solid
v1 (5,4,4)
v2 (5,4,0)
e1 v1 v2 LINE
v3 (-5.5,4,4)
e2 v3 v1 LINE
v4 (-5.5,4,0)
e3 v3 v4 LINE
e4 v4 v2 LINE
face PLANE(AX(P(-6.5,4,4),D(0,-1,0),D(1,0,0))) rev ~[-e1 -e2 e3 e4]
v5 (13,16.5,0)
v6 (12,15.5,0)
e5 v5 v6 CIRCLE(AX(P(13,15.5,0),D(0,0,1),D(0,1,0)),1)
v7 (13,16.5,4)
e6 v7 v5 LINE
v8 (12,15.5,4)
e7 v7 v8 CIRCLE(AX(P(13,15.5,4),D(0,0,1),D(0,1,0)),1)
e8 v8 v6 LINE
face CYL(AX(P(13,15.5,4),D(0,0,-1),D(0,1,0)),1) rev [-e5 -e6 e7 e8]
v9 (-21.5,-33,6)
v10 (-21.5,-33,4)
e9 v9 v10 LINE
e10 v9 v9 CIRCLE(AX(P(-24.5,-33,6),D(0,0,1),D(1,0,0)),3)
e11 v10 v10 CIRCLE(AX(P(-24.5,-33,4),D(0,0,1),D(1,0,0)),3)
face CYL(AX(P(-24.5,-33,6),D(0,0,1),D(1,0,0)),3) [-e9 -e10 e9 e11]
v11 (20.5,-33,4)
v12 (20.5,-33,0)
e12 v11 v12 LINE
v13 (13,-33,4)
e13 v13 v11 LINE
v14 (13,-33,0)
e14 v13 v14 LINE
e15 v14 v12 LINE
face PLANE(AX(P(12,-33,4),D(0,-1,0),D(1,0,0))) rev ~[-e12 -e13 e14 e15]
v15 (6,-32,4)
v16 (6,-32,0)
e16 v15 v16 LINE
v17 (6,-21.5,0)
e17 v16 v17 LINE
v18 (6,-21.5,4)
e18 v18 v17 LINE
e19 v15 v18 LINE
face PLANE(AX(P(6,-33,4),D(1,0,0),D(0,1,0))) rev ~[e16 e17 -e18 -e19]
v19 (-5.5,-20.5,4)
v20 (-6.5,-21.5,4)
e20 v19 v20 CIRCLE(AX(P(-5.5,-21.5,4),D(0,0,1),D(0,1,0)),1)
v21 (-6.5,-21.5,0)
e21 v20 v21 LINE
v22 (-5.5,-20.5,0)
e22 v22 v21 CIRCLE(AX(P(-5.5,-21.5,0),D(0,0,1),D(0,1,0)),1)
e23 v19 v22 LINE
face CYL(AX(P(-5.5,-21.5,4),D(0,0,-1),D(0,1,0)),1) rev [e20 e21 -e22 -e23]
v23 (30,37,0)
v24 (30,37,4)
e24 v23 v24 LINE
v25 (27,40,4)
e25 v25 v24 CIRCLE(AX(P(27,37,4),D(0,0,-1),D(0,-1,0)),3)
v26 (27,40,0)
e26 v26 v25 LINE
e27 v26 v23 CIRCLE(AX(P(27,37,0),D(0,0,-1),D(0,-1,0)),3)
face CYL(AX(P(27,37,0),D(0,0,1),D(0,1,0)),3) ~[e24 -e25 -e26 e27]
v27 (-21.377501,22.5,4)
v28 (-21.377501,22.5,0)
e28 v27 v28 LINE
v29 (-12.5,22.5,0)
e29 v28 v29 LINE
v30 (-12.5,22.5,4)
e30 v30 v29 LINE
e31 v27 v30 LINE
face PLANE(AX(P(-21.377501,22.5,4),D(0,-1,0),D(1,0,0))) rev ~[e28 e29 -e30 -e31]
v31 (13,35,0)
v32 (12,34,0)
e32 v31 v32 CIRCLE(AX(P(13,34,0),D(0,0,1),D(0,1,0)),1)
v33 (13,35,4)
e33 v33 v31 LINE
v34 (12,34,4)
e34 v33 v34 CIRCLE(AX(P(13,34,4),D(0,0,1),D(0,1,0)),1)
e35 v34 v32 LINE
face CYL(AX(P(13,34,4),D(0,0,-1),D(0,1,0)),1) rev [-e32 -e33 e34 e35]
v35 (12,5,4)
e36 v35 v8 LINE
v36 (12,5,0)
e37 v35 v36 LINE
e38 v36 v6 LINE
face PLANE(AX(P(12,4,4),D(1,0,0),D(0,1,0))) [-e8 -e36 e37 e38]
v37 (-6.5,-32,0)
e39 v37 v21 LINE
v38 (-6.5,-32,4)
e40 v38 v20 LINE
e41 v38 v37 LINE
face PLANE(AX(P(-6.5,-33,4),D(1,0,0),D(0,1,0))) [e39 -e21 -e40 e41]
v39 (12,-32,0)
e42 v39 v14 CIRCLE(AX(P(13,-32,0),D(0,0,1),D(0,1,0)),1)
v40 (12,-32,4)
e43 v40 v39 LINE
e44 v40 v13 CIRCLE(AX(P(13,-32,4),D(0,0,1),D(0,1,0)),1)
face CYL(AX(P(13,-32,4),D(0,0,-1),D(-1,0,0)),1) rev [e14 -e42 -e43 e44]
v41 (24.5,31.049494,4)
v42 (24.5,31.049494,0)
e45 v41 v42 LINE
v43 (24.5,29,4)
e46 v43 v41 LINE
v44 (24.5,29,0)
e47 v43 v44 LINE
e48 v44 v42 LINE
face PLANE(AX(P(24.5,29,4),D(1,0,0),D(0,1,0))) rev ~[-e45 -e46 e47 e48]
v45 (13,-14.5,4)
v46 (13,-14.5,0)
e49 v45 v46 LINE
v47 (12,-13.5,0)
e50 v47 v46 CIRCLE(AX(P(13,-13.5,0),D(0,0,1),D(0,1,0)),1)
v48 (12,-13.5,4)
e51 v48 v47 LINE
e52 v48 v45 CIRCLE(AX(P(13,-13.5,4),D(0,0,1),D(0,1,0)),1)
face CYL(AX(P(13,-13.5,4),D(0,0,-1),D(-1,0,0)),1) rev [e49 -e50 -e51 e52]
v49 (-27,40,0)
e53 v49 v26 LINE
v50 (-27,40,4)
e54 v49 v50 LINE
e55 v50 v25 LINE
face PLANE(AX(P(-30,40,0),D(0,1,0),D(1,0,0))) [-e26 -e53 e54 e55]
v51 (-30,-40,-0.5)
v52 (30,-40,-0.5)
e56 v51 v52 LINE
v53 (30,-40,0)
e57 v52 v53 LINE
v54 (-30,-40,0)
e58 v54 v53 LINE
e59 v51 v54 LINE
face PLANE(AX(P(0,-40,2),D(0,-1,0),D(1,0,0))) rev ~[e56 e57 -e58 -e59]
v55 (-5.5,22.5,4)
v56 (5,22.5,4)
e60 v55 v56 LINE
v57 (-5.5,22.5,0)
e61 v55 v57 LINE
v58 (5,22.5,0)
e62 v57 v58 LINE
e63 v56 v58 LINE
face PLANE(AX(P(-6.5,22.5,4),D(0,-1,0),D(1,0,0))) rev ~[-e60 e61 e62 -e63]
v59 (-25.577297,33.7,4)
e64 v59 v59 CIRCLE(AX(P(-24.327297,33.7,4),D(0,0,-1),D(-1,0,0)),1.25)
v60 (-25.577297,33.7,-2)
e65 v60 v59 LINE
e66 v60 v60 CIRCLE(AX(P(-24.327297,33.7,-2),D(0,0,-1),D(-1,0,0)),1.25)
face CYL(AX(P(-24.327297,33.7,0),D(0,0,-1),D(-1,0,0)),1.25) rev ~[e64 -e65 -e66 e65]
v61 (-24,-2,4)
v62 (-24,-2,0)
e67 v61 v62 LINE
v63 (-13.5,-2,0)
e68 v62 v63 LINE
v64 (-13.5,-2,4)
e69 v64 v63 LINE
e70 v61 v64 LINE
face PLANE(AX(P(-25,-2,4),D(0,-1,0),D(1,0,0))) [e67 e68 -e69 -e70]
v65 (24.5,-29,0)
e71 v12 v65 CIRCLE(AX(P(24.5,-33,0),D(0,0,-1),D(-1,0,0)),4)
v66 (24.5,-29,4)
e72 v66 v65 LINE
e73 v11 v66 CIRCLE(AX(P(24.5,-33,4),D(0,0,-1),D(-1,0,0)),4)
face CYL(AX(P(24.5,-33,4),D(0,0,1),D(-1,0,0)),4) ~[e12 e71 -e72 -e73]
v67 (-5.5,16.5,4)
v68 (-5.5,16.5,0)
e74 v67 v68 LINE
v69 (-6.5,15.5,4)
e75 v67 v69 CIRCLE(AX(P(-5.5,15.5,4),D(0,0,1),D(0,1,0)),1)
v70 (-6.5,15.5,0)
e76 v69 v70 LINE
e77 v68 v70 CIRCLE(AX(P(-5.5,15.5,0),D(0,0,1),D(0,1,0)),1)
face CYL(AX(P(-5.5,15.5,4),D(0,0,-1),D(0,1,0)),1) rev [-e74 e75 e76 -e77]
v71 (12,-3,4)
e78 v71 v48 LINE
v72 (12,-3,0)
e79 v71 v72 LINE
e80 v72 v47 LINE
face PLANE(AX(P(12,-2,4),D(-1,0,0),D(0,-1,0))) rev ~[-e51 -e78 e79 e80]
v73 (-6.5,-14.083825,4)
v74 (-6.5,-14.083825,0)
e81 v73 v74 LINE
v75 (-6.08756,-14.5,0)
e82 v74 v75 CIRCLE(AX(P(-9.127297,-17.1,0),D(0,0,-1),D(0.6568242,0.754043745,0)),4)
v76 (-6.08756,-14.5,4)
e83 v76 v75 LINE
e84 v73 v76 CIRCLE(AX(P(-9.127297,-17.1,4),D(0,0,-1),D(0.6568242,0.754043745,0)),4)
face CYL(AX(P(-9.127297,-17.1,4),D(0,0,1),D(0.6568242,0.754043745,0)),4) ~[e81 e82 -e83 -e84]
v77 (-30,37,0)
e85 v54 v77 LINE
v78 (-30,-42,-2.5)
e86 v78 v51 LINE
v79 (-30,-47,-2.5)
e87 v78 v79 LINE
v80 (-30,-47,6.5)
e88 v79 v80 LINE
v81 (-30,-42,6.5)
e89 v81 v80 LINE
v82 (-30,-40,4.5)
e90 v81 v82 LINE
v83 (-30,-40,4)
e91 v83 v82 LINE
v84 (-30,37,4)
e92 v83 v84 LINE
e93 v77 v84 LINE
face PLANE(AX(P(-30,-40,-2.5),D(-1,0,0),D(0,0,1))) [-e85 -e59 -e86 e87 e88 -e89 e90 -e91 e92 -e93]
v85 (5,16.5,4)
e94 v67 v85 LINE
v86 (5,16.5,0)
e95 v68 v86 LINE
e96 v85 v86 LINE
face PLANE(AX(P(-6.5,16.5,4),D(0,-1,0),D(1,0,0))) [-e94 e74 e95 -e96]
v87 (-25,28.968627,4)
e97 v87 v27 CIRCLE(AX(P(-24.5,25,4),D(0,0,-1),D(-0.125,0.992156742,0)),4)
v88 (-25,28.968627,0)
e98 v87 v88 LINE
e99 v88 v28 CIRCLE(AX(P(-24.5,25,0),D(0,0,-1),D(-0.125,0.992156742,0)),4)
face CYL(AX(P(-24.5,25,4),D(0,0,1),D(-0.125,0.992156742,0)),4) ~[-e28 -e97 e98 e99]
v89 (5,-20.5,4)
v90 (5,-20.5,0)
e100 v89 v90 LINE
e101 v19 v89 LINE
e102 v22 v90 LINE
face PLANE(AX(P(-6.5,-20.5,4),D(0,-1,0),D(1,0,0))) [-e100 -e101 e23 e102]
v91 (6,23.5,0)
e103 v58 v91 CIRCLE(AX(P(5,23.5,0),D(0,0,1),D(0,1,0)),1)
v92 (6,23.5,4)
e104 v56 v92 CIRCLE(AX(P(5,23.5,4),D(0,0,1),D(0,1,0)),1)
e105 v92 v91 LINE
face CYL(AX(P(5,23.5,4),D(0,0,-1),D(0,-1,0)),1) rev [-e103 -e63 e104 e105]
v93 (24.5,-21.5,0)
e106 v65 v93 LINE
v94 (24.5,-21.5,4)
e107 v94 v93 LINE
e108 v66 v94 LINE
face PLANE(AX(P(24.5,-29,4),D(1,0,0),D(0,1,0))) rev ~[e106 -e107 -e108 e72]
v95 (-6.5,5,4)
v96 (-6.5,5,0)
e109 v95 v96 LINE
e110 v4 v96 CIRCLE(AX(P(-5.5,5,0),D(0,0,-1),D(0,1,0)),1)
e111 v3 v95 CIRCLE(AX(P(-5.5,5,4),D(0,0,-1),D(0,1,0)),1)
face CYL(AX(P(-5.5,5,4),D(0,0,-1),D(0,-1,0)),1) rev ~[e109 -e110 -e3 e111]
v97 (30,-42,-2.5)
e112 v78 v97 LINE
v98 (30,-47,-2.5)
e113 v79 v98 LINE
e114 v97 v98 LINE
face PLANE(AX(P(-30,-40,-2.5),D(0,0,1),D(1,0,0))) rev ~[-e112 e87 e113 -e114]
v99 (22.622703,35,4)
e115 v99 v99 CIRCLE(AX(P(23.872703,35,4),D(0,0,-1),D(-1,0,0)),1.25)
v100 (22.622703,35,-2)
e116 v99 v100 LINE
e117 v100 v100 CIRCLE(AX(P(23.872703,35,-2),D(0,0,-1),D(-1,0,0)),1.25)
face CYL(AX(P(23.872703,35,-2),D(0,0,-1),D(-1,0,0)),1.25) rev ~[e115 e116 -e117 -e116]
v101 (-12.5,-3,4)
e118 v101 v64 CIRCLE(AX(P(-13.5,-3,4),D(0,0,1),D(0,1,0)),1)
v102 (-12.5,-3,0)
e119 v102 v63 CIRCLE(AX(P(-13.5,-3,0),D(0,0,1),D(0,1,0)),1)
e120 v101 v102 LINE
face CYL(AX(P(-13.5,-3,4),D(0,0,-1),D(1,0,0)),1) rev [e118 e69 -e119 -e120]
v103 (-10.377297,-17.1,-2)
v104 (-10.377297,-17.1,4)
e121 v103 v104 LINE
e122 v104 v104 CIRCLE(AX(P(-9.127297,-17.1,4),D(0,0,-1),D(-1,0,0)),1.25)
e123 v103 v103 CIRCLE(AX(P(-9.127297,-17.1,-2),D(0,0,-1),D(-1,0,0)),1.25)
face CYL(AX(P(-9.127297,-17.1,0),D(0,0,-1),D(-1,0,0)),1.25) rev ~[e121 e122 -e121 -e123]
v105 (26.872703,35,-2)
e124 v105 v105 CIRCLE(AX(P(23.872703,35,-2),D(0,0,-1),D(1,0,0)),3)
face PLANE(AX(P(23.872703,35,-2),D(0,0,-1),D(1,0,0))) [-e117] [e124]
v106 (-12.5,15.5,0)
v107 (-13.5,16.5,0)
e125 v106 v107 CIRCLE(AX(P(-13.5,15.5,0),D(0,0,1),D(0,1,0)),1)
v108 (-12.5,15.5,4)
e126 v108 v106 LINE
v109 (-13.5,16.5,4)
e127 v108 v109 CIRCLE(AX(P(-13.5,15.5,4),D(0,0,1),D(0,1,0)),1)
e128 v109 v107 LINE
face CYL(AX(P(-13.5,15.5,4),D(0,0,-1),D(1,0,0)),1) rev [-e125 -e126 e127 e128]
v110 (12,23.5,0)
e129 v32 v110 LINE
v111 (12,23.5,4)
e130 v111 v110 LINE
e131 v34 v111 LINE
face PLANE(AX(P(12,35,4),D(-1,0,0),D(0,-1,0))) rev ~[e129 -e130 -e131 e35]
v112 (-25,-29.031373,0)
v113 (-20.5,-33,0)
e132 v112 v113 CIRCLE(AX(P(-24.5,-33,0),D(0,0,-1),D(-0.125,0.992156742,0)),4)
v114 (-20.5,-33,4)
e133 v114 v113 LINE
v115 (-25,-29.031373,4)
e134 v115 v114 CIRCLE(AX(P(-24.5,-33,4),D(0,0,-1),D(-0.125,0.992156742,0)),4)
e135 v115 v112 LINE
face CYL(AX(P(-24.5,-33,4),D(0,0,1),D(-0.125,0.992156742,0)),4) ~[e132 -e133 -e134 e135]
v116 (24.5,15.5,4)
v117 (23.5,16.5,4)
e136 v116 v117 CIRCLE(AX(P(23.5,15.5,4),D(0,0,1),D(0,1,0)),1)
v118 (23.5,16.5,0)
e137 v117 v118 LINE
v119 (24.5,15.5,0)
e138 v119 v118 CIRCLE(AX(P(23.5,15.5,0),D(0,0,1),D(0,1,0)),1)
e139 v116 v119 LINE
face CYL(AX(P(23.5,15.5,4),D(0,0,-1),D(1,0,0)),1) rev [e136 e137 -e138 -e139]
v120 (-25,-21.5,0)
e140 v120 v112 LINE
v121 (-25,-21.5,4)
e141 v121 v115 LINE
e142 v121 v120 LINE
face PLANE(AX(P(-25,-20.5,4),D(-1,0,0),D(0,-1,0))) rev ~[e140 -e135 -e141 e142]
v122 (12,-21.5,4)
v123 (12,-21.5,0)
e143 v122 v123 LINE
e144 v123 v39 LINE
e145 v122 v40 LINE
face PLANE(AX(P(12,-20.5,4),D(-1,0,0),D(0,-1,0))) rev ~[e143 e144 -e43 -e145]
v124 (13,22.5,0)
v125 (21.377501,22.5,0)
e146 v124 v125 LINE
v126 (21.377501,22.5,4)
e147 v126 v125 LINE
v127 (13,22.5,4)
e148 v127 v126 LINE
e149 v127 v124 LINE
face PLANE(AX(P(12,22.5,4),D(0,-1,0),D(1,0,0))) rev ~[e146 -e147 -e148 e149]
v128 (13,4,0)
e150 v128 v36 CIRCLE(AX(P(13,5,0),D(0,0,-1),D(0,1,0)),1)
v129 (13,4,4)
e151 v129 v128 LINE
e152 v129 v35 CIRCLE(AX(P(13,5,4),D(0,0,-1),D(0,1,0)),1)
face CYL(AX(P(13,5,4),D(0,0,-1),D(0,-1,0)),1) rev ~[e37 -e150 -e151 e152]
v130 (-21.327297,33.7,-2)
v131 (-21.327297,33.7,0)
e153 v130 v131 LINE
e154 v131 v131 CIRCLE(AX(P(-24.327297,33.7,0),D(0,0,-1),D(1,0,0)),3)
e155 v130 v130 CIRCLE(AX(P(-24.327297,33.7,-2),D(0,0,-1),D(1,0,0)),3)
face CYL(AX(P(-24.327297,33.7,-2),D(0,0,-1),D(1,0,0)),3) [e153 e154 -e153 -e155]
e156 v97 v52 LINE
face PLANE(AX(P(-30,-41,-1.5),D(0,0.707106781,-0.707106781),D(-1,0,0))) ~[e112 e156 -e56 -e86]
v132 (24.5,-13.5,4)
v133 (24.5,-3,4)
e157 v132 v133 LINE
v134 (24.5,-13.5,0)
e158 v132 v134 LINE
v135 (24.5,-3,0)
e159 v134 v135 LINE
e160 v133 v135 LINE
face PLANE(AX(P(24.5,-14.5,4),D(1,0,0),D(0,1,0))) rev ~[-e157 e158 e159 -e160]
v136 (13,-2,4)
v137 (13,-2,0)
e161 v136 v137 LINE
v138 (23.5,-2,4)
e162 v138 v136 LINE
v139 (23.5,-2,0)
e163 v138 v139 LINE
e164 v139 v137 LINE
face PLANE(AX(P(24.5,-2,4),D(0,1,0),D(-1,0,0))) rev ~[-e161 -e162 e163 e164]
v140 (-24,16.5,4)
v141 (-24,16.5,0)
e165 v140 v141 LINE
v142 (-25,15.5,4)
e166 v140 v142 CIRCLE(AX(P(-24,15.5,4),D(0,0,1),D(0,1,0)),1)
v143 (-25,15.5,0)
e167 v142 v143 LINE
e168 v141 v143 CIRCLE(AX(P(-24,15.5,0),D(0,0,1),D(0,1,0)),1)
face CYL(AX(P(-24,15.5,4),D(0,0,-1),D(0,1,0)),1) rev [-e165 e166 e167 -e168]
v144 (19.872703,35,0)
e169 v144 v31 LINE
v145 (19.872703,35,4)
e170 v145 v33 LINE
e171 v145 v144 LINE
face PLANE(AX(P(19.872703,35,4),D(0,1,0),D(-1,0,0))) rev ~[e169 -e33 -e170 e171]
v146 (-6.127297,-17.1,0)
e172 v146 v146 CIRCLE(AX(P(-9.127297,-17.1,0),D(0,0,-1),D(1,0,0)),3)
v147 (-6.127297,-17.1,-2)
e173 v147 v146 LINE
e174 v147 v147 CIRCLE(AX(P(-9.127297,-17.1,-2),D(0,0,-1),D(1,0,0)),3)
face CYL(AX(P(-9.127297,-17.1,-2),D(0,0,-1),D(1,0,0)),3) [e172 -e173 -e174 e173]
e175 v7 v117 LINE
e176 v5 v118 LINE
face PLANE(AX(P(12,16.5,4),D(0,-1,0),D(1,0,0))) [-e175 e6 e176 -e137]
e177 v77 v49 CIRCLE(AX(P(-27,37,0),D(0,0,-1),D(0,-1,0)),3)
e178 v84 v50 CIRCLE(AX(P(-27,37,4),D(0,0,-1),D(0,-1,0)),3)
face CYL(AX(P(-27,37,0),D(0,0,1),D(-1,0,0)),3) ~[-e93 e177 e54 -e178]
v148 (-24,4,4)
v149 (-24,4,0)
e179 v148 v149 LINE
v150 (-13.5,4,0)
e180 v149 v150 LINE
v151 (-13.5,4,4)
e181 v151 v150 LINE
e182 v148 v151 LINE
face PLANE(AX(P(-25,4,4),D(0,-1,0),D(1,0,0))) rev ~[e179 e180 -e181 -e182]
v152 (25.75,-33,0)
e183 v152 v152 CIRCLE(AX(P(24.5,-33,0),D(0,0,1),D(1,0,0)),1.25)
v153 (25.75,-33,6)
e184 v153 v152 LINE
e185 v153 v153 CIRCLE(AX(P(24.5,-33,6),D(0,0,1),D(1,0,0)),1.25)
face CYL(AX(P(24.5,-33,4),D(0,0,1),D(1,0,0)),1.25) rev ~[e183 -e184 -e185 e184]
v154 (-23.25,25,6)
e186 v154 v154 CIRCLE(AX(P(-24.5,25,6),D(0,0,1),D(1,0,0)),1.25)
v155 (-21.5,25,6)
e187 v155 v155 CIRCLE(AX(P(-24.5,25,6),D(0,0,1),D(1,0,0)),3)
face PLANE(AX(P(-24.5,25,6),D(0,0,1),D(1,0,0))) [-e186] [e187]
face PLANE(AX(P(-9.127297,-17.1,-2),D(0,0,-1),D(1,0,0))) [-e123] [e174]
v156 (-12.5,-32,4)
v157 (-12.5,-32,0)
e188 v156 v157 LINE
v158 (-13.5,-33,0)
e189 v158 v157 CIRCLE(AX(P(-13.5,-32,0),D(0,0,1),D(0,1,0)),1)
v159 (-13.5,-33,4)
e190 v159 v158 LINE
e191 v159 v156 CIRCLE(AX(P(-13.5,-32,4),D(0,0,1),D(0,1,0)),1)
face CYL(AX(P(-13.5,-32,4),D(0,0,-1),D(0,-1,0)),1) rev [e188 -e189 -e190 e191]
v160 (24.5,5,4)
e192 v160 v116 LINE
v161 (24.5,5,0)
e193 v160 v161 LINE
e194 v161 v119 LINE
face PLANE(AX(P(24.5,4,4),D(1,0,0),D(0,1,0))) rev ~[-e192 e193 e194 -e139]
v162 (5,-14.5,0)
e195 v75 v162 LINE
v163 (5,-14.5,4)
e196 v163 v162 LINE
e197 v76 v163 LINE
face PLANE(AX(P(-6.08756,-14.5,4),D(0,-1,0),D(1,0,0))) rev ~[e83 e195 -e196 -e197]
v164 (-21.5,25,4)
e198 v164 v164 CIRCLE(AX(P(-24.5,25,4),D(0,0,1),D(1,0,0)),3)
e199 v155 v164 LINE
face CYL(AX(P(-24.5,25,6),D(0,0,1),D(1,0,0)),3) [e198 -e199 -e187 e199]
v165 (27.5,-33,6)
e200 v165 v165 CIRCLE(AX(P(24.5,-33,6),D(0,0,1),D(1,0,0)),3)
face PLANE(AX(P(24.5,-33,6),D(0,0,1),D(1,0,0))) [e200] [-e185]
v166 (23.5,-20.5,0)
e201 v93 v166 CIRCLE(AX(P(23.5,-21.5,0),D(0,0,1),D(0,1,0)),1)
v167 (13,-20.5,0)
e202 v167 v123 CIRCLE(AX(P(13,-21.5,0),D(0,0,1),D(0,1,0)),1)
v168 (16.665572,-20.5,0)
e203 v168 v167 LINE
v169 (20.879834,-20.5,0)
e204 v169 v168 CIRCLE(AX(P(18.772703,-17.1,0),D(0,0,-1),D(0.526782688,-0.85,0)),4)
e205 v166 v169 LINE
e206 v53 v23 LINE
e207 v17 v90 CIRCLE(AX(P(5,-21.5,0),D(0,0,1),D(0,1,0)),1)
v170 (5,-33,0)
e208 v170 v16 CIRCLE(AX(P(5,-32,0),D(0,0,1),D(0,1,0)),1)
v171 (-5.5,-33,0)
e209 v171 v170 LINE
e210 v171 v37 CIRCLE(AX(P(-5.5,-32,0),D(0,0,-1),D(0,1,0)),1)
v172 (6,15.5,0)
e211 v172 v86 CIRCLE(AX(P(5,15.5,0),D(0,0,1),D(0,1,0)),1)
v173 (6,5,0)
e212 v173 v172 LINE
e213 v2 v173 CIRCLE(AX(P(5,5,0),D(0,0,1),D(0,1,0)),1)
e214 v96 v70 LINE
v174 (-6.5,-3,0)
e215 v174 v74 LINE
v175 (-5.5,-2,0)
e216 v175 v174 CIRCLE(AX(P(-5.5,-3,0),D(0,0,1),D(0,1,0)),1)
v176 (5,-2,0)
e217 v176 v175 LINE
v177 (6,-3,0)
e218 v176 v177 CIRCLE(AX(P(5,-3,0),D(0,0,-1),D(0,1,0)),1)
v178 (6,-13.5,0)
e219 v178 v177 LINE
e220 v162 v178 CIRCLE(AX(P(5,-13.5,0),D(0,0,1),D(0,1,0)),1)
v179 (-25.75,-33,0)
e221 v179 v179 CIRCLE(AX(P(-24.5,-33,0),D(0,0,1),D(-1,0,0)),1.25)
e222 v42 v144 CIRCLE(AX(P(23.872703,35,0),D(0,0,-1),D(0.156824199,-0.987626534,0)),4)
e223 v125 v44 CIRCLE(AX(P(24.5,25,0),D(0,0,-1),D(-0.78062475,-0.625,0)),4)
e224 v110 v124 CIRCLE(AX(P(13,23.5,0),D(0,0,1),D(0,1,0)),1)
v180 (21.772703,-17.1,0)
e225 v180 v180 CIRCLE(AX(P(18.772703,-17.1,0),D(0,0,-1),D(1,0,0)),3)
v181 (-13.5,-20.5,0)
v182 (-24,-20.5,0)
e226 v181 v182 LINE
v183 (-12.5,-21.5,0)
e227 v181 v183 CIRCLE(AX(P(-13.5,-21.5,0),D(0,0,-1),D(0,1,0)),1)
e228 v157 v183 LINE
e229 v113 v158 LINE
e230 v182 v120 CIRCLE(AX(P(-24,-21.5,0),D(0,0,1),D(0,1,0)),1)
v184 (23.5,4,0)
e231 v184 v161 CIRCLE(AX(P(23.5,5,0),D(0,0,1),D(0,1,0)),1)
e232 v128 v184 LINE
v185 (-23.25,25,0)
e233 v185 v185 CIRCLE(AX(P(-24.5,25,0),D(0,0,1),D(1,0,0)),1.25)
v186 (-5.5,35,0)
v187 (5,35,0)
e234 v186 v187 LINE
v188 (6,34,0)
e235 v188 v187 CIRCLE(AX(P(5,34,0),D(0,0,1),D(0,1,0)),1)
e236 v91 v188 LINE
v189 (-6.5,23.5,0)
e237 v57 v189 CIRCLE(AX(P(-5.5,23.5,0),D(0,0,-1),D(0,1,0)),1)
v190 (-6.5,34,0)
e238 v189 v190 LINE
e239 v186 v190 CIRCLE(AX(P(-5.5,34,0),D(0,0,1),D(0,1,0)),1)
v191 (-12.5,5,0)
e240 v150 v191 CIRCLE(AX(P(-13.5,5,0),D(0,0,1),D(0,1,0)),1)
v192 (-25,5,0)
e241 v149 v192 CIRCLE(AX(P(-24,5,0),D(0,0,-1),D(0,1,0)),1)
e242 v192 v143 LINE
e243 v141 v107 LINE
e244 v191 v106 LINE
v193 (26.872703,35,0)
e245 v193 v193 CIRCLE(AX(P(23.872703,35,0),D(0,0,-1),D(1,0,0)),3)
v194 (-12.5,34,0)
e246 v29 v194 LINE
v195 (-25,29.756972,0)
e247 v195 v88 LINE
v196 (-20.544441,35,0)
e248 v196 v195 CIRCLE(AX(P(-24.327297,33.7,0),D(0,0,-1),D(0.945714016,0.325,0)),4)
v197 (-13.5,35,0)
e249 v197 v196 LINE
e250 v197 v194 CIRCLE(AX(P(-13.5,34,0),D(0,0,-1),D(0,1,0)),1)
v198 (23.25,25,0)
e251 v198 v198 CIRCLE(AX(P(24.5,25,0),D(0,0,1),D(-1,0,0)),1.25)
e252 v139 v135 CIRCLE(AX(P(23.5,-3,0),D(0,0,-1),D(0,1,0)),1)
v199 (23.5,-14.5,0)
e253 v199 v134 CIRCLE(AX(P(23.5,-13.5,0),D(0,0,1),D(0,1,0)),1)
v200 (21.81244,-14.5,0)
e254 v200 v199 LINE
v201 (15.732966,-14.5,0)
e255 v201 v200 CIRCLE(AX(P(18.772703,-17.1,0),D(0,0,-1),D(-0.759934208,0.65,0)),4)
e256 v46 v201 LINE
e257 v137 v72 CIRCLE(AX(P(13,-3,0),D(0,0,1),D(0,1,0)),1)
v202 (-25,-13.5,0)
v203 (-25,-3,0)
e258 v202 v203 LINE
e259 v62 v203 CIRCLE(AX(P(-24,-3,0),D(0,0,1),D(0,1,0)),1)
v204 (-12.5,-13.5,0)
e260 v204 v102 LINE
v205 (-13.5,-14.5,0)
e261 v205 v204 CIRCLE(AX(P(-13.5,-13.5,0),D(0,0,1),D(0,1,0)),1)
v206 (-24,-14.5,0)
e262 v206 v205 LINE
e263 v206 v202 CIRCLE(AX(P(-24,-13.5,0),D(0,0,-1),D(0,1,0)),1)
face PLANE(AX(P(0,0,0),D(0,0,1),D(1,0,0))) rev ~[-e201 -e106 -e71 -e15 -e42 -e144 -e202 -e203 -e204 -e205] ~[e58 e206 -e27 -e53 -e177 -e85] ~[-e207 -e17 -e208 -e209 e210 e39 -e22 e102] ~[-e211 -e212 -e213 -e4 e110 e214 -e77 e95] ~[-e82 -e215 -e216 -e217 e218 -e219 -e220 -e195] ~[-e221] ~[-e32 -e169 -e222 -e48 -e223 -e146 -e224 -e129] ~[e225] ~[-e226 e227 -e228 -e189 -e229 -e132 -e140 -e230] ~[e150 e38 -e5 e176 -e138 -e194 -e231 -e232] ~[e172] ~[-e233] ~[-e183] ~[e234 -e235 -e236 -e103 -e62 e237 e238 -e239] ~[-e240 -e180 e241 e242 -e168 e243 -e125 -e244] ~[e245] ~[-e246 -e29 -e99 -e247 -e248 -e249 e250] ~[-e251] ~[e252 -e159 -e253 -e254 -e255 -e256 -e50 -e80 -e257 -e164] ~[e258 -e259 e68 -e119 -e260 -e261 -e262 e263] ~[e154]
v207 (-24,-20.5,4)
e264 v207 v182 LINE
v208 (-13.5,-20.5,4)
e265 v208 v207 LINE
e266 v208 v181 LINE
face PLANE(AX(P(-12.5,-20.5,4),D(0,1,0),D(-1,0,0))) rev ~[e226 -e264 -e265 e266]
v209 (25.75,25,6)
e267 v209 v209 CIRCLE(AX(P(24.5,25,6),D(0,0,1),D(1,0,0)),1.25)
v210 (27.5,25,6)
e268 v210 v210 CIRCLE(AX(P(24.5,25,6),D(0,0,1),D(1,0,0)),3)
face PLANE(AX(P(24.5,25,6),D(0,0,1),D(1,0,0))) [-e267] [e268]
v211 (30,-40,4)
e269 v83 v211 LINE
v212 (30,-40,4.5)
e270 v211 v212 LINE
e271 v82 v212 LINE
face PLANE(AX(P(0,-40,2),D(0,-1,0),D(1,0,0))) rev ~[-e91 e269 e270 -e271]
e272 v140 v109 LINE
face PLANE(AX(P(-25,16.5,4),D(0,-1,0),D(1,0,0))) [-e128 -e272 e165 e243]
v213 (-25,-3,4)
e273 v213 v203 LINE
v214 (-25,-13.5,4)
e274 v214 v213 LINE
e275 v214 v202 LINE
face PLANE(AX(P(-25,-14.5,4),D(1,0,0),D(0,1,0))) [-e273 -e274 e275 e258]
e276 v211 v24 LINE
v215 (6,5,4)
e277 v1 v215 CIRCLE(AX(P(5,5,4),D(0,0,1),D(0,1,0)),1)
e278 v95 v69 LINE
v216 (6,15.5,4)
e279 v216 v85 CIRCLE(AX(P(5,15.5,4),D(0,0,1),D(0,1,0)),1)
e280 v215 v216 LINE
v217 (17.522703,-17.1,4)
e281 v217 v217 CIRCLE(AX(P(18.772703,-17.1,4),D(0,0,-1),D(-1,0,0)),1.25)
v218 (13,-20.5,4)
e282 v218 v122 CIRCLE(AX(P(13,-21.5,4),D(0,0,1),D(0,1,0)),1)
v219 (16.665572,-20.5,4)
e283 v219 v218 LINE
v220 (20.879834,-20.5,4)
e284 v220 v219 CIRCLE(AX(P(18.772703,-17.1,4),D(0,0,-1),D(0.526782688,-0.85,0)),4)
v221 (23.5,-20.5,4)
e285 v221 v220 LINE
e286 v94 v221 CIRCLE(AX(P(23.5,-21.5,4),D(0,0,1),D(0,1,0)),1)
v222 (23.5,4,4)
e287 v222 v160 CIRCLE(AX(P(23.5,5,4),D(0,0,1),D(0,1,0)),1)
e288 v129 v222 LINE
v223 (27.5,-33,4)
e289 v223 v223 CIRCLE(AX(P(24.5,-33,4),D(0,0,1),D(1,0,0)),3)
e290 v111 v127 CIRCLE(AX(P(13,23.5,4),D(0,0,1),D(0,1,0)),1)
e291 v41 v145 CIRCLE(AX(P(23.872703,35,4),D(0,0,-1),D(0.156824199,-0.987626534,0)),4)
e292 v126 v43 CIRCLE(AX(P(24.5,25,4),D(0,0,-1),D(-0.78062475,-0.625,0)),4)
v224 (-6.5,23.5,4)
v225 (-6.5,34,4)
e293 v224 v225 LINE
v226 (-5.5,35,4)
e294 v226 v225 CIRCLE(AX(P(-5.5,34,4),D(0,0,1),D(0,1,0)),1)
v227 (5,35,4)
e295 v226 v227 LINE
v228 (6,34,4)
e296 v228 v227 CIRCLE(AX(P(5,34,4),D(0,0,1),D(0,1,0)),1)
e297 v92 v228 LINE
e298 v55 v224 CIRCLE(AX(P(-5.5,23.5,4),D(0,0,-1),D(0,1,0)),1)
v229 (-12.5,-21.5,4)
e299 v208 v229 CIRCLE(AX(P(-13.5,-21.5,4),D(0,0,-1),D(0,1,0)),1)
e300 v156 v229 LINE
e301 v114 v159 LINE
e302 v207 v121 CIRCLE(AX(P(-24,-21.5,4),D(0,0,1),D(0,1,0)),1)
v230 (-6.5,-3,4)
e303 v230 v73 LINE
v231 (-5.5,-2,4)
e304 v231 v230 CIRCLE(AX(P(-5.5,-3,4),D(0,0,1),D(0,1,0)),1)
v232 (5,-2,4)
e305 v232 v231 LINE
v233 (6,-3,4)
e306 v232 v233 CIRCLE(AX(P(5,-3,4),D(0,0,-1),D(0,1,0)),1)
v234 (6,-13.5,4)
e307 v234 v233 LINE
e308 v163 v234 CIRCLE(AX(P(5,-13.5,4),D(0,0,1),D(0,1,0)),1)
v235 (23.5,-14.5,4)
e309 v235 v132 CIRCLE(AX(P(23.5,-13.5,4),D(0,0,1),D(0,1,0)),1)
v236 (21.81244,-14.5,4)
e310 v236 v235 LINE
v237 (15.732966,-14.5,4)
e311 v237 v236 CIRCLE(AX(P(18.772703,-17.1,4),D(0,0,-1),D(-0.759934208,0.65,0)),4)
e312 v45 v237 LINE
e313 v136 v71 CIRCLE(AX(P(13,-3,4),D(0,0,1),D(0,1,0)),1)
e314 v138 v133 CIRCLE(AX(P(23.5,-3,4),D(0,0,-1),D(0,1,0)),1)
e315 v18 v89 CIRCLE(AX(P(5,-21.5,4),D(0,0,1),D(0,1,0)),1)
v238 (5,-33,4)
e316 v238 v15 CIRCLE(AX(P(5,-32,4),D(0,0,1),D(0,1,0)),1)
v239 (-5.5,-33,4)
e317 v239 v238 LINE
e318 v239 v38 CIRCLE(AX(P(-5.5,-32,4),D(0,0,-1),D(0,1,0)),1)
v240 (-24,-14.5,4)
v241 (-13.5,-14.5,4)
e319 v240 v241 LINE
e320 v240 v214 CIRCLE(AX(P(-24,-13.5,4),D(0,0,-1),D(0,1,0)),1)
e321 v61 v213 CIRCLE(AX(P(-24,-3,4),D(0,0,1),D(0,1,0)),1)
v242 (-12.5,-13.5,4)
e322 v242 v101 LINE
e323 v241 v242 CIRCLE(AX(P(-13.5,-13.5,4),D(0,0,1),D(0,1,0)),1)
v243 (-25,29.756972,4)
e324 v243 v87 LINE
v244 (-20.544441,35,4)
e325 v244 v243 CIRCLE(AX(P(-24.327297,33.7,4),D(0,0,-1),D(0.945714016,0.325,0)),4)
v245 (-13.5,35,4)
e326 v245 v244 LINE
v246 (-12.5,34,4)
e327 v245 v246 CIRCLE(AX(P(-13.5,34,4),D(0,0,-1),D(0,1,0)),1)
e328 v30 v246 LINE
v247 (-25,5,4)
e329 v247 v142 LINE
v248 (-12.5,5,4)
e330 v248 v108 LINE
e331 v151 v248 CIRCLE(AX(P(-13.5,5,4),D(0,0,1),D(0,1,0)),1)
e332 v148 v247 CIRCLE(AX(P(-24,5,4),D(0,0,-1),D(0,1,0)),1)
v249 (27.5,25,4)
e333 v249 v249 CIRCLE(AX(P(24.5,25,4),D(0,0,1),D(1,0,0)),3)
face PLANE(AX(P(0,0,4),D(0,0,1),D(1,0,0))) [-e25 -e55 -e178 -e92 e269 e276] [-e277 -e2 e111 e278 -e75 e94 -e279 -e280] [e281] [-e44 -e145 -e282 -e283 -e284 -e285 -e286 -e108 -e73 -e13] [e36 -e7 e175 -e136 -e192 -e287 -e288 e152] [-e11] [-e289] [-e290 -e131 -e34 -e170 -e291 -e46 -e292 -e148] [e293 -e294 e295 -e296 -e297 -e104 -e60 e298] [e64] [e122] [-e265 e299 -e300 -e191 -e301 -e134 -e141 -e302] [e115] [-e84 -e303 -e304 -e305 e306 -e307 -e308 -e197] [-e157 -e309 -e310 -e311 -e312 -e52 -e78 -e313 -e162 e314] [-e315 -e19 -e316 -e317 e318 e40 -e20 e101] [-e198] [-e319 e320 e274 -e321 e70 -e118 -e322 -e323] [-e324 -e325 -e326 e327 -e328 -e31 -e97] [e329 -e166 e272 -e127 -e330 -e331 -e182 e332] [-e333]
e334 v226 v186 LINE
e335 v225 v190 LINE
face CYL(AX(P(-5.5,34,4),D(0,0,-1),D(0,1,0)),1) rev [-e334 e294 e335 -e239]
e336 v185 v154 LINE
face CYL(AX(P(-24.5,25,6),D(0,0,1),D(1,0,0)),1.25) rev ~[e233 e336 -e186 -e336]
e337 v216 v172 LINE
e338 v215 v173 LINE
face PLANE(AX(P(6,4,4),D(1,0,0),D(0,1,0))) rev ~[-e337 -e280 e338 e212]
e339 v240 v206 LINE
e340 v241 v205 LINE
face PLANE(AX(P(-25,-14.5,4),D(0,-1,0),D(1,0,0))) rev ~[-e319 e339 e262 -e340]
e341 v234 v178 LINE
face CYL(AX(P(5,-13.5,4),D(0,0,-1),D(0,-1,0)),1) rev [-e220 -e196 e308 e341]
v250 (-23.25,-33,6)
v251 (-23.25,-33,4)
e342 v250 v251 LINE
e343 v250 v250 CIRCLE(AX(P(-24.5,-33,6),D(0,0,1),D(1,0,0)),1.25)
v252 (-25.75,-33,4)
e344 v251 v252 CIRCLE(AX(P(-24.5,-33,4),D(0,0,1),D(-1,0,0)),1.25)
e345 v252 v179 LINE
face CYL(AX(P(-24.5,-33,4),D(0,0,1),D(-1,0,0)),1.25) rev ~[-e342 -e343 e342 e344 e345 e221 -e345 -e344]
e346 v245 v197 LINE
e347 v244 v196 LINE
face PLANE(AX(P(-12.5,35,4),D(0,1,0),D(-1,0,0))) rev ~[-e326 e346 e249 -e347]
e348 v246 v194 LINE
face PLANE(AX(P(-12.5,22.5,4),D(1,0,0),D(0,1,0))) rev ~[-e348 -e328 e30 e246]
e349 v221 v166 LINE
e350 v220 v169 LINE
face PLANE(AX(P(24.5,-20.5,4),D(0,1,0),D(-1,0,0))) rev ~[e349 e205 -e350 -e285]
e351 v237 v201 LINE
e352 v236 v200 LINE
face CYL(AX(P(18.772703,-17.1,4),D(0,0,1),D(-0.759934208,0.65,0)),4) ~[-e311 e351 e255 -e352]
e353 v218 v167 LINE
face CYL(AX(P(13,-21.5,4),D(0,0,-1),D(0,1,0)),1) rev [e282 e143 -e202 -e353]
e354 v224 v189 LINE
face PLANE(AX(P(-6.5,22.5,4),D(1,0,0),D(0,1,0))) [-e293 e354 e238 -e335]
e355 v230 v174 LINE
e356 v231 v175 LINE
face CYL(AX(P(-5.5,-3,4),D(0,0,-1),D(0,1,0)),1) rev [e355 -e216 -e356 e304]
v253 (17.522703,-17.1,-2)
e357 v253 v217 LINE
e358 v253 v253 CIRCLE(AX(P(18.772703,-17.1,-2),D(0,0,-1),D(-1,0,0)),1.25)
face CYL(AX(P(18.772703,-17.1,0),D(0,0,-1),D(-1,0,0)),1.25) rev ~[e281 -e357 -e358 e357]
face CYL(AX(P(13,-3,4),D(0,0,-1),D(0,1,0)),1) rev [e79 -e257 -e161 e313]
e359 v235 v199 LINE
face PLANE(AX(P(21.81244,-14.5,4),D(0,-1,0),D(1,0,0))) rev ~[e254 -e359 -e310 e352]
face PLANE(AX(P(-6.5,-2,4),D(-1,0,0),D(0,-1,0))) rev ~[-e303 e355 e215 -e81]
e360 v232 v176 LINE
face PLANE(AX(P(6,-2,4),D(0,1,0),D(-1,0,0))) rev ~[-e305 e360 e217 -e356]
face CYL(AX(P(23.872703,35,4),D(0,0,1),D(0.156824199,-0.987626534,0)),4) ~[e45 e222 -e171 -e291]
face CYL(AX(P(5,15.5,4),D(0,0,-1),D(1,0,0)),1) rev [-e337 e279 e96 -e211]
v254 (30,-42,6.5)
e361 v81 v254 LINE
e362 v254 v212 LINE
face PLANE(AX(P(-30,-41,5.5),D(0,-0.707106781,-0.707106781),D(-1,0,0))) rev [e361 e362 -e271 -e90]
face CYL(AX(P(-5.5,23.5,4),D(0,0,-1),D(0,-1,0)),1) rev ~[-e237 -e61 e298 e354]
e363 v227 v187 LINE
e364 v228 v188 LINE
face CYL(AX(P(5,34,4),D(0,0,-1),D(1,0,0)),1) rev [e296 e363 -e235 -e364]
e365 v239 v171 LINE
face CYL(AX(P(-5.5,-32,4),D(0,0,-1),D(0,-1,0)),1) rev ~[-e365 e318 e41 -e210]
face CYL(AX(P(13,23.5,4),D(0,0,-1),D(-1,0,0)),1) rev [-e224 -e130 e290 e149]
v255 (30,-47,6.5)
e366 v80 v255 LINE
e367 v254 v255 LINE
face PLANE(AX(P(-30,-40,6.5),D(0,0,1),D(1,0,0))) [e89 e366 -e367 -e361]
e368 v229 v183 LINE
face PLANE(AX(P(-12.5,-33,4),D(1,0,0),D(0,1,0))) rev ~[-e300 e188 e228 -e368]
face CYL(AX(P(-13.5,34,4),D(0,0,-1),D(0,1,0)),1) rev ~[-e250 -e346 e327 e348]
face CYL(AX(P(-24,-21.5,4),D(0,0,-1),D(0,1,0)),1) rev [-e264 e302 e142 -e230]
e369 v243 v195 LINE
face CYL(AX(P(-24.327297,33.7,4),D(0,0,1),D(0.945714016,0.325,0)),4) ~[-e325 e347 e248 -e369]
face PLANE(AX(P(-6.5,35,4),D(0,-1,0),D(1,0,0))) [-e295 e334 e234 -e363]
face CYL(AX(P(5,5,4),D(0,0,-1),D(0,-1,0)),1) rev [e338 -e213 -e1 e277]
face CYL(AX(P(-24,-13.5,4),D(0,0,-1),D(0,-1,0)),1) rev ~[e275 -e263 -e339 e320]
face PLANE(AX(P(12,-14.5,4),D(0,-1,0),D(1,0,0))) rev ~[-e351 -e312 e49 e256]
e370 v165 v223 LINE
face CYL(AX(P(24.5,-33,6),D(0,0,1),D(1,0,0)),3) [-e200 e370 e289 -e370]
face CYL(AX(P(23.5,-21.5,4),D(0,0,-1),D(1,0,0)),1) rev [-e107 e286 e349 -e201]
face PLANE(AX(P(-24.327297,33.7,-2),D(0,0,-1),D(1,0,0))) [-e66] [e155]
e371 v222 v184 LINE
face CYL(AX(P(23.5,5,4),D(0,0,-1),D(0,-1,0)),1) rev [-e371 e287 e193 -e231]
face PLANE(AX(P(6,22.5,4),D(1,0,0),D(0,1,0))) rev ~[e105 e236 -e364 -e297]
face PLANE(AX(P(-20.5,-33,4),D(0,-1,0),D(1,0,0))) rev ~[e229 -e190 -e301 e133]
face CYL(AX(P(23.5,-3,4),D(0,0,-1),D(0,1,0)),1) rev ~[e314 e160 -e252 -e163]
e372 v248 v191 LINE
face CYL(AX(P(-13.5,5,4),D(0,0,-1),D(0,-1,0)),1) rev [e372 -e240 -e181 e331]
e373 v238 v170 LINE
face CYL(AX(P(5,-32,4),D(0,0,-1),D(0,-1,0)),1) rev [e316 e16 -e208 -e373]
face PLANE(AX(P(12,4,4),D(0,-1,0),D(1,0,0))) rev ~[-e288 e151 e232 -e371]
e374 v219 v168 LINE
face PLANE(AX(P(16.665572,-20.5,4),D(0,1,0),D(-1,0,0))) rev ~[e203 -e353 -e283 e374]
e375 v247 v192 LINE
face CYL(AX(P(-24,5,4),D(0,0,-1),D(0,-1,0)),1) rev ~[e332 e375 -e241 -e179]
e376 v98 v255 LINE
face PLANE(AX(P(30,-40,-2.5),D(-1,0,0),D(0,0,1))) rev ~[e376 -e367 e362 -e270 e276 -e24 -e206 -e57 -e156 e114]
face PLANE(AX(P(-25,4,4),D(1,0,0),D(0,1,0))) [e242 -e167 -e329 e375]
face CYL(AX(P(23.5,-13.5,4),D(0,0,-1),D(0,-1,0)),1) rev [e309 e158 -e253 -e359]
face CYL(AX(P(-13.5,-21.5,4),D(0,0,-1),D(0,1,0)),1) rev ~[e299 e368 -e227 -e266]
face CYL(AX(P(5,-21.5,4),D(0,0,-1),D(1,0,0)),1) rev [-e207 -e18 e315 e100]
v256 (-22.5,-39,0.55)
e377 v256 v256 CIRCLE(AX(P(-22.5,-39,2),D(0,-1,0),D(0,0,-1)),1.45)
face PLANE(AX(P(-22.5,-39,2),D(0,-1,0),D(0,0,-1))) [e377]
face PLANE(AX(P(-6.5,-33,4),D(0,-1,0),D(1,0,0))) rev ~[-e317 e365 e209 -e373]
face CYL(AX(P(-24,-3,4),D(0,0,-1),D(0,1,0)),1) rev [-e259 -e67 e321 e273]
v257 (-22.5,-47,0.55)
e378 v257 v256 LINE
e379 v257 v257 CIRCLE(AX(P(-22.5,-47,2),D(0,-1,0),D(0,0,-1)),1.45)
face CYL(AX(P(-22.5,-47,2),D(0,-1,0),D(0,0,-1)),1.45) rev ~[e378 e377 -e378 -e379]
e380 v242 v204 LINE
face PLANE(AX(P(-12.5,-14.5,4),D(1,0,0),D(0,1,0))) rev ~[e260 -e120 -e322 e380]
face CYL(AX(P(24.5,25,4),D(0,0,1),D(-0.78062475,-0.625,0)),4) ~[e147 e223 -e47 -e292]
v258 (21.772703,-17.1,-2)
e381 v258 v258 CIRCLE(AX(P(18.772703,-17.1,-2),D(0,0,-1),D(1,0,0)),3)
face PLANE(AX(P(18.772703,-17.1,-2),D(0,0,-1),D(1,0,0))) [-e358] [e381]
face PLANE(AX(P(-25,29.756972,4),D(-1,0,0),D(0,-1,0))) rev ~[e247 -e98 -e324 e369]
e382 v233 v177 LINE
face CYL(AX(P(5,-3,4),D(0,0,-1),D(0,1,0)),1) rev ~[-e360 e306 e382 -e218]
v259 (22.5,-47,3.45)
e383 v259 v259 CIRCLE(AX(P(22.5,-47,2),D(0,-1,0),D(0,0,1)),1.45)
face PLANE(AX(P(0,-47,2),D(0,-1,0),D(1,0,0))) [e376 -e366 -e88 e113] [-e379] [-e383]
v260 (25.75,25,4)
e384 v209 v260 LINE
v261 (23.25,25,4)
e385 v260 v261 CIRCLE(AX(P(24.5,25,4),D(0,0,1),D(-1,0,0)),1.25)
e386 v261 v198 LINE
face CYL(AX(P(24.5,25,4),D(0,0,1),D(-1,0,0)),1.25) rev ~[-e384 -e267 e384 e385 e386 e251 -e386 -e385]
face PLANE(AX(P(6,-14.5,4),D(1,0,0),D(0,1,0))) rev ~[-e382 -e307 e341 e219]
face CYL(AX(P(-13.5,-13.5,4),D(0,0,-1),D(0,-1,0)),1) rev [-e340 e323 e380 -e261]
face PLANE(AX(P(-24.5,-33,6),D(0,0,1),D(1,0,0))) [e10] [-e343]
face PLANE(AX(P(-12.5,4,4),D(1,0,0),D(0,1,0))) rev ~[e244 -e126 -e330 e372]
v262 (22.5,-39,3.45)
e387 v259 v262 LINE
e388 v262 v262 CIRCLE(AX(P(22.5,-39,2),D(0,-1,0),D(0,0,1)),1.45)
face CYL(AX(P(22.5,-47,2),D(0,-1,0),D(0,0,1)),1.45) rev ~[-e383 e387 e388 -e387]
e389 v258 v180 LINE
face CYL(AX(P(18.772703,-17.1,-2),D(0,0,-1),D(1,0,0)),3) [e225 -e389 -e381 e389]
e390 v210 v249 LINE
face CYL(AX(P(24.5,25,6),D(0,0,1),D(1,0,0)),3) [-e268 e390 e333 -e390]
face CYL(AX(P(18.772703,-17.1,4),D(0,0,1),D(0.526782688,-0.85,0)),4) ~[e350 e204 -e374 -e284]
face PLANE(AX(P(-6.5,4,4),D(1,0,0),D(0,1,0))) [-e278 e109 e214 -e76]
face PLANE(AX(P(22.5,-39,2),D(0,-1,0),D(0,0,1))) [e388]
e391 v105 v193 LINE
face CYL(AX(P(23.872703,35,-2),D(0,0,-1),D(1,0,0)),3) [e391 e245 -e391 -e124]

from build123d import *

# Parameters (mm, degrees)
SKETCH1_W           = 60
SKETCH1_H           = 80
BOSS_EXTRUDE1_DEPTH = 4
SKETCH2_R           = 1.25
CUT_EXTRUDE1_DEPTH  = 51.159744816
BOSS_EXTRUDE2_START = 2
SKETCH3_R           = 3
SKETCH3_R_2         = 1.25
BOSS_EXTRUDE2_DEPTH = 2
SKETCH4_R           = 1.25
CUT_EXTRUDE2_DEPTH  = 51.358713248
BOSS_EXTRUDE3_START = 2
SKETCH5_R           = 3
SKETCH5_R_2         = 1.25
BOSS_EXTRUDE3_DEPTH = 2
SKETCH7_W           = 12.5
SKETCH7_H           = 12.5
CUT_EXTRUDE4_DEPTH  = 4
FILLET3_R           = 1
FILLET2_R           = 3
SKETCH8_W           = 60
SKETCH8_H           = 9
BOSS_EXTRUDE4_DEPTH = 7
CHAMFER1_SIZE       = 2
SKETCH9_R           = 1.45
CUT_EXTRUDE5_DEPTH  = 8


with BuildPart() as part:
    # Sketch1 → Boss-Extrude1 (new body)
    with BuildSketch(Plane.XY):
        Rectangle(SKETCH1_W, SKETCH1_H)
    extrude(amount=BOSS_EXTRUDE1_DEPTH)

    # Sketch2 → Cut-Extrude1 (cut, through all)
    with BuildSketch(Plane.XY.offset(4)):
        with Locations((-24.5, 25)):
            Circle(SKETCH2_R)
        with Locations(Location((24.5, 25, 0), (0, 0, 180))):
            Circle(SKETCH2_R)
        with Locations((24.5, -33)):
            Circle(SKETCH2_R)
        with Locations(Location((-24.5, -33, 0), (0, 0, 180))):
            Circle(SKETCH2_R)
    extrude(amount=-CUT_EXTRUDE1_DEPTH, mode=Mode.SUBTRACT)

    # Sketch3 → Boss-Extrude2 (add)
    # profile 1 of 4: a face of its own
    with BuildSketch(Plane.XY.offset(4).offset(BOSS_EXTRUDE2_START)):
        with Locations((-24.5, 25)):
            Circle(SKETCH3_R)
        with Locations((-24.5, 25)):
            Circle(SKETCH3_R_2, mode=Mode.SUBTRACT)
    # profile 2 of 4: a face of its own
    with BuildSketch(Plane.XY.offset(4).offset(BOSS_EXTRUDE2_START)):
        with Locations((24.5, 25)):
            Circle(SKETCH3_R)
        with Locations((24.5, 25)):
            Circle(SKETCH3_R_2, mode=Mode.SUBTRACT)
    # profile 3 of 4: a face of its own
    with BuildSketch(Plane.XY.offset(4).offset(BOSS_EXTRUDE2_START)):
        with Locations((24.5, -33)):
            Circle(SKETCH3_R)
        with Locations((24.5, -33)):
            Circle(SKETCH3_R_2, mode=Mode.SUBTRACT)
    # profile 4 of 4: a face of its own
    with BuildSketch(Plane.XY.offset(4).offset(BOSS_EXTRUDE2_START)):
        with Locations((-24.5, -33)):
            Circle(SKETCH3_R)
        with Locations((-24.5, -33)):
            Circle(SKETCH3_R_2, mode=Mode.SUBTRACT)
    extrude(amount=-BOSS_EXTRUDE2_DEPTH)

    # Sketch4 → Cut-Extrude2 (cut, through all)
    with BuildSketch(Plane(origin=(0, 0, 0), x_dir=(-1, 0, 0), z_dir=(0, 0, -1))):
        with Locations((-18.772703202, -17.1)):
            Circle(SKETCH4_R)
        with Locations((9.127296798, -17.1)):
            Circle(SKETCH4_R)
        with Locations((-23.872703202, 35)):
            Circle(SKETCH4_R)
        with Locations((24.327296798, 33.7)):
            Circle(SKETCH4_R)
    extrude(amount=-CUT_EXTRUDE2_DEPTH, mode=Mode.SUBTRACT)

    # Sketch5 → Boss-Extrude3 (add)
    # profile 1 of 4: a face of its own
    with BuildSketch(Plane(origin=(0, 0, 0), x_dir=(-1, 0, 0), z_dir=(0, 0, -1)).offset(BOSS_EXTRUDE3_START)):
        with Locations(Location((-23.872703202, 35, 0), (0, 0, 180))):
            Circle(SKETCH5_R)
        with Locations((-23.872703202, 35)):
            Circle(SKETCH5_R_2, mode=Mode.SUBTRACT)
    # profile 2 of 4: a face of its own
    with BuildSketch(Plane(origin=(0, 0, 0), x_dir=(-1, 0, 0), z_dir=(0, 0, -1)).offset(BOSS_EXTRUDE3_START)):
        with Locations(Location((24.327296798, 33.7, 0), (0, 0, 180))):
            Circle(SKETCH5_R)
        with Locations((24.327296798, 33.7)):
            Circle(SKETCH5_R_2, mode=Mode.SUBTRACT)
    # profile 3 of 4: a face of its own
    with BuildSketch(Plane(origin=(0, 0, 0), x_dir=(-1, 0, 0), z_dir=(0, 0, -1)).offset(BOSS_EXTRUDE3_START)):
        with Locations(Location((9.127296798, -17.1, 0), (0, 0, 180))):
            Circle(SKETCH5_R)
        with Locations((9.127296798, -17.1)):
            Circle(SKETCH5_R_2, mode=Mode.SUBTRACT)
    # profile 4 of 4: a face of its own
    with BuildSketch(Plane(origin=(0, 0, 0), x_dir=(-1, 0, 0), z_dir=(0, 0, -1)).offset(BOSS_EXTRUDE3_START)):
        with Locations(Location((-18.772703202, -17.1, 0), (0, 0, 180))):
            Circle(SKETCH5_R)
        with Locations((-18.772703202, -17.1)):
            Circle(SKETCH5_R_2, mode=Mode.SUBTRACT)
    extrude(amount=-BOSS_EXTRUDE3_DEPTH)

    # Sketch7 → Cut-Extrude4 (cut)
    with BuildSketch(Plane.XY.offset(4)):
        with BuildLine():
            Line((-12.5, 35), (-20.544440734, 35))
            ThreePointArc((-20.544440734, 35), (-21.279248479, 31.109748768), (-25, 29.756971925))
            Line((-25, 29.756971925), (-25, 28.968626967))
            ThreePointArc((-25, 28.968626967), (-21.009991553, 26.954441363), (-21.377501001, 22.5))
            Line((-21.377501001, 22.5), (-12.5, 22.5))
            Line((-12.5, 22.5), (-12.5, 35))
        make_face()
        with Locations((-0.25, 28.75)):
            Rectangle(SKETCH7_W, SKETCH7_H)
        with BuildLine():
            Line((19.872703202, 35), (12, 35))
            Line((12, 35), (12, 22.5))
            Line((12, 22.5), (21.377501001, 22.5))
            ThreePointArc((21.377501001, 22.5), (20.894448725, 26.732050808), (24.5, 29))
            Line((24.5, 29), (24.5, 31.049493864))
            ThreePointArc((24.5, 31.049493864), (21.275511179, 31.957863646), (19.872703202, 35))
        make_face()
        with Locations((-0.25, 10.25)):
            Rectangle(SKETCH7_W, SKETCH7_H)
        with Locations((18.25, 10.25)):
            Rectangle(SKETCH7_W, SKETCH7_H)
        with BuildLine():
            Line((6, -2), (-6.5, -2))
            Line((-6.5, -2), (-6.5, -14.083825016))
            ThreePointArc((-6.5, -14.083825016), (-6.286149505, -14.284350509), (-6.087559968, -14.5))
            Line((-6.087559968, -14.5), (6, -14.5))
            Line((6, -14.5), (6, -2))
        make_face()
        with BuildLine():
            Line((24.5, -2), (12, -2))
            Line((12, -2), (12, -14.5))
            Line((12, -14.5), (15.732966371, -14.5))
            ThreePointArc((15.732966371, -14.5), (18.772703202, -13.1), (21.812440032, -14.5))
            Line((21.812440032, -14.5), (24.5, -14.5))
            Line((24.5, -14.5), (24.5, -2))
        make_face()
        with BuildLine():
            ThreePointArc((20.879833952, -20.5), (18.772703202, -21.1), (16.665572451, -20.5))
            Line((16.665572451, -20.5), (12, -20.5))
            Line((12, -20.5), (12, -33))
            Line((12, -33), (20.5, -33))
            ThreePointArc((20.5, -33), (21.671572875, -30.171572875), (24.5, -29))
            Line((24.5, -29), (24.5, -20.5))
            Line((24.5, -20.5), (20.879833952, -20.5))
        make_face()
        with Locations((-0.25, -26.75)):
            Rectangle(SKETCH7_W, SKETCH7_H)
        with Locations((-18.75, 10.25)):
            Rectangle(SKETCH7_W, SKETCH7_H)
        with Locations((-18.75, -8.25)):
            Rectangle(SKETCH7_W, SKETCH7_H)
        with BuildLine():
            Line((-12.5, -20.5), (-25, -20.5))
            Line((-25, -20.5), (-25, -29.031373033))
            ThreePointArc((-25, -29.031373033), (-21.854248689, -30), (-20.5, -33))
            Line((-20.5, -33), (-12.5, -33))
            Line((-12.5, -33), (-12.5, -20.5))
        make_face()
    extrude(amount=-CUT_EXTRUDE4_DEPTH, mode=Mode.SUBTRACT)

    # Fillet3
    fillet3_edges = [part.edges().sort_by_distance(p)[0] for p in [
        (12, 22.5, 2),
        (12, 35, 2),
        (-6.5, 22.5, 2),
        (-6.5, 35, 2),
        (6, 35, 2),
        (6, 22.5, 2),
        (-12.5, 35, 2),
        (-6.5, -33, 2),
        (-6.5, -20.5, 2),
        (6, -20.5, 2),
        (6, -33, 2),
        (12, -33, 2),
        (12, -20.5, 2),
        (24.5, -20.5, 2),
        (12, -14.5, 2),
        (12, -2, 2),
        (24.5, -2, 2),
        (24.5, -14.5, 2),
        (-6.5, -2, 2),
        (6, -2, 2),
        (6, -14.5, 2),
        (-25, -14.5, 2),
        (-25, -2, 2),
        (-12.5, -2, 2),
        (-12.5, -14.5, 2),
        (-25, 4, 2),
        (-25, 16.5, 2),
        (-12.5, 16.5, 2),
        (-12.5, 4, 2),
        (-6.5, 4, 2),
        (-6.5, 16.5, 2),
        (6, 16.5, 2),
        (6, 4, 2),
        (12, 4, 2),
        (12, 16.5, 2),
        (24.5, 16.5, 2),
        (24.5, 4, 2),
        (-25, -20.5, 2),
        (-12.5, -20.5, 2),
        (-12.5, -33, 2),
    ]]
    fillet(fillet3_edges, radius=FILLET3_R)

    # Fillet2
    fillet2_edges = [part.edges().sort_by_distance(p)[0] for p in [
        (-30, 40, 2),
        (30, 40, 2),
    ]]
    fillet(fillet2_edges, radius=FILLET2_R)

    # Sketch8 → Boss-Extrude4 (add)
    with BuildSketch(Plane.XZ.offset(40)):
        with Locations((0, 2)):
            Rectangle(SKETCH8_W, SKETCH8_H)
    extrude(amount=BOSS_EXTRUDE4_DEPTH)

    # Chamfer1
    chamfer1_edges = [part.edges().sort_by_distance(p)[0] for p in [
        (0, -40, -2.5),
        (0, -40, 6.5),
    ]]
    chamfer(chamfer1_edges, length=CHAMFER1_SIZE)

    # Sketch9 → Cut-Extrude5 (cut)
    with BuildSketch(Plane.XZ.offset(47)):
        with Locations(Location((-22.5, 2, 0), (0, 0, 270))):
            Circle(SKETCH9_R)
        with Locations(Location((22.5, 2, 0), (0, 0, 90))):
            Circle(SKETCH9_R)
    extrude(amount=-CUT_EXTRUDE5_DEPTH, mode=Mode.SUBTRACT)


solid = part.part
